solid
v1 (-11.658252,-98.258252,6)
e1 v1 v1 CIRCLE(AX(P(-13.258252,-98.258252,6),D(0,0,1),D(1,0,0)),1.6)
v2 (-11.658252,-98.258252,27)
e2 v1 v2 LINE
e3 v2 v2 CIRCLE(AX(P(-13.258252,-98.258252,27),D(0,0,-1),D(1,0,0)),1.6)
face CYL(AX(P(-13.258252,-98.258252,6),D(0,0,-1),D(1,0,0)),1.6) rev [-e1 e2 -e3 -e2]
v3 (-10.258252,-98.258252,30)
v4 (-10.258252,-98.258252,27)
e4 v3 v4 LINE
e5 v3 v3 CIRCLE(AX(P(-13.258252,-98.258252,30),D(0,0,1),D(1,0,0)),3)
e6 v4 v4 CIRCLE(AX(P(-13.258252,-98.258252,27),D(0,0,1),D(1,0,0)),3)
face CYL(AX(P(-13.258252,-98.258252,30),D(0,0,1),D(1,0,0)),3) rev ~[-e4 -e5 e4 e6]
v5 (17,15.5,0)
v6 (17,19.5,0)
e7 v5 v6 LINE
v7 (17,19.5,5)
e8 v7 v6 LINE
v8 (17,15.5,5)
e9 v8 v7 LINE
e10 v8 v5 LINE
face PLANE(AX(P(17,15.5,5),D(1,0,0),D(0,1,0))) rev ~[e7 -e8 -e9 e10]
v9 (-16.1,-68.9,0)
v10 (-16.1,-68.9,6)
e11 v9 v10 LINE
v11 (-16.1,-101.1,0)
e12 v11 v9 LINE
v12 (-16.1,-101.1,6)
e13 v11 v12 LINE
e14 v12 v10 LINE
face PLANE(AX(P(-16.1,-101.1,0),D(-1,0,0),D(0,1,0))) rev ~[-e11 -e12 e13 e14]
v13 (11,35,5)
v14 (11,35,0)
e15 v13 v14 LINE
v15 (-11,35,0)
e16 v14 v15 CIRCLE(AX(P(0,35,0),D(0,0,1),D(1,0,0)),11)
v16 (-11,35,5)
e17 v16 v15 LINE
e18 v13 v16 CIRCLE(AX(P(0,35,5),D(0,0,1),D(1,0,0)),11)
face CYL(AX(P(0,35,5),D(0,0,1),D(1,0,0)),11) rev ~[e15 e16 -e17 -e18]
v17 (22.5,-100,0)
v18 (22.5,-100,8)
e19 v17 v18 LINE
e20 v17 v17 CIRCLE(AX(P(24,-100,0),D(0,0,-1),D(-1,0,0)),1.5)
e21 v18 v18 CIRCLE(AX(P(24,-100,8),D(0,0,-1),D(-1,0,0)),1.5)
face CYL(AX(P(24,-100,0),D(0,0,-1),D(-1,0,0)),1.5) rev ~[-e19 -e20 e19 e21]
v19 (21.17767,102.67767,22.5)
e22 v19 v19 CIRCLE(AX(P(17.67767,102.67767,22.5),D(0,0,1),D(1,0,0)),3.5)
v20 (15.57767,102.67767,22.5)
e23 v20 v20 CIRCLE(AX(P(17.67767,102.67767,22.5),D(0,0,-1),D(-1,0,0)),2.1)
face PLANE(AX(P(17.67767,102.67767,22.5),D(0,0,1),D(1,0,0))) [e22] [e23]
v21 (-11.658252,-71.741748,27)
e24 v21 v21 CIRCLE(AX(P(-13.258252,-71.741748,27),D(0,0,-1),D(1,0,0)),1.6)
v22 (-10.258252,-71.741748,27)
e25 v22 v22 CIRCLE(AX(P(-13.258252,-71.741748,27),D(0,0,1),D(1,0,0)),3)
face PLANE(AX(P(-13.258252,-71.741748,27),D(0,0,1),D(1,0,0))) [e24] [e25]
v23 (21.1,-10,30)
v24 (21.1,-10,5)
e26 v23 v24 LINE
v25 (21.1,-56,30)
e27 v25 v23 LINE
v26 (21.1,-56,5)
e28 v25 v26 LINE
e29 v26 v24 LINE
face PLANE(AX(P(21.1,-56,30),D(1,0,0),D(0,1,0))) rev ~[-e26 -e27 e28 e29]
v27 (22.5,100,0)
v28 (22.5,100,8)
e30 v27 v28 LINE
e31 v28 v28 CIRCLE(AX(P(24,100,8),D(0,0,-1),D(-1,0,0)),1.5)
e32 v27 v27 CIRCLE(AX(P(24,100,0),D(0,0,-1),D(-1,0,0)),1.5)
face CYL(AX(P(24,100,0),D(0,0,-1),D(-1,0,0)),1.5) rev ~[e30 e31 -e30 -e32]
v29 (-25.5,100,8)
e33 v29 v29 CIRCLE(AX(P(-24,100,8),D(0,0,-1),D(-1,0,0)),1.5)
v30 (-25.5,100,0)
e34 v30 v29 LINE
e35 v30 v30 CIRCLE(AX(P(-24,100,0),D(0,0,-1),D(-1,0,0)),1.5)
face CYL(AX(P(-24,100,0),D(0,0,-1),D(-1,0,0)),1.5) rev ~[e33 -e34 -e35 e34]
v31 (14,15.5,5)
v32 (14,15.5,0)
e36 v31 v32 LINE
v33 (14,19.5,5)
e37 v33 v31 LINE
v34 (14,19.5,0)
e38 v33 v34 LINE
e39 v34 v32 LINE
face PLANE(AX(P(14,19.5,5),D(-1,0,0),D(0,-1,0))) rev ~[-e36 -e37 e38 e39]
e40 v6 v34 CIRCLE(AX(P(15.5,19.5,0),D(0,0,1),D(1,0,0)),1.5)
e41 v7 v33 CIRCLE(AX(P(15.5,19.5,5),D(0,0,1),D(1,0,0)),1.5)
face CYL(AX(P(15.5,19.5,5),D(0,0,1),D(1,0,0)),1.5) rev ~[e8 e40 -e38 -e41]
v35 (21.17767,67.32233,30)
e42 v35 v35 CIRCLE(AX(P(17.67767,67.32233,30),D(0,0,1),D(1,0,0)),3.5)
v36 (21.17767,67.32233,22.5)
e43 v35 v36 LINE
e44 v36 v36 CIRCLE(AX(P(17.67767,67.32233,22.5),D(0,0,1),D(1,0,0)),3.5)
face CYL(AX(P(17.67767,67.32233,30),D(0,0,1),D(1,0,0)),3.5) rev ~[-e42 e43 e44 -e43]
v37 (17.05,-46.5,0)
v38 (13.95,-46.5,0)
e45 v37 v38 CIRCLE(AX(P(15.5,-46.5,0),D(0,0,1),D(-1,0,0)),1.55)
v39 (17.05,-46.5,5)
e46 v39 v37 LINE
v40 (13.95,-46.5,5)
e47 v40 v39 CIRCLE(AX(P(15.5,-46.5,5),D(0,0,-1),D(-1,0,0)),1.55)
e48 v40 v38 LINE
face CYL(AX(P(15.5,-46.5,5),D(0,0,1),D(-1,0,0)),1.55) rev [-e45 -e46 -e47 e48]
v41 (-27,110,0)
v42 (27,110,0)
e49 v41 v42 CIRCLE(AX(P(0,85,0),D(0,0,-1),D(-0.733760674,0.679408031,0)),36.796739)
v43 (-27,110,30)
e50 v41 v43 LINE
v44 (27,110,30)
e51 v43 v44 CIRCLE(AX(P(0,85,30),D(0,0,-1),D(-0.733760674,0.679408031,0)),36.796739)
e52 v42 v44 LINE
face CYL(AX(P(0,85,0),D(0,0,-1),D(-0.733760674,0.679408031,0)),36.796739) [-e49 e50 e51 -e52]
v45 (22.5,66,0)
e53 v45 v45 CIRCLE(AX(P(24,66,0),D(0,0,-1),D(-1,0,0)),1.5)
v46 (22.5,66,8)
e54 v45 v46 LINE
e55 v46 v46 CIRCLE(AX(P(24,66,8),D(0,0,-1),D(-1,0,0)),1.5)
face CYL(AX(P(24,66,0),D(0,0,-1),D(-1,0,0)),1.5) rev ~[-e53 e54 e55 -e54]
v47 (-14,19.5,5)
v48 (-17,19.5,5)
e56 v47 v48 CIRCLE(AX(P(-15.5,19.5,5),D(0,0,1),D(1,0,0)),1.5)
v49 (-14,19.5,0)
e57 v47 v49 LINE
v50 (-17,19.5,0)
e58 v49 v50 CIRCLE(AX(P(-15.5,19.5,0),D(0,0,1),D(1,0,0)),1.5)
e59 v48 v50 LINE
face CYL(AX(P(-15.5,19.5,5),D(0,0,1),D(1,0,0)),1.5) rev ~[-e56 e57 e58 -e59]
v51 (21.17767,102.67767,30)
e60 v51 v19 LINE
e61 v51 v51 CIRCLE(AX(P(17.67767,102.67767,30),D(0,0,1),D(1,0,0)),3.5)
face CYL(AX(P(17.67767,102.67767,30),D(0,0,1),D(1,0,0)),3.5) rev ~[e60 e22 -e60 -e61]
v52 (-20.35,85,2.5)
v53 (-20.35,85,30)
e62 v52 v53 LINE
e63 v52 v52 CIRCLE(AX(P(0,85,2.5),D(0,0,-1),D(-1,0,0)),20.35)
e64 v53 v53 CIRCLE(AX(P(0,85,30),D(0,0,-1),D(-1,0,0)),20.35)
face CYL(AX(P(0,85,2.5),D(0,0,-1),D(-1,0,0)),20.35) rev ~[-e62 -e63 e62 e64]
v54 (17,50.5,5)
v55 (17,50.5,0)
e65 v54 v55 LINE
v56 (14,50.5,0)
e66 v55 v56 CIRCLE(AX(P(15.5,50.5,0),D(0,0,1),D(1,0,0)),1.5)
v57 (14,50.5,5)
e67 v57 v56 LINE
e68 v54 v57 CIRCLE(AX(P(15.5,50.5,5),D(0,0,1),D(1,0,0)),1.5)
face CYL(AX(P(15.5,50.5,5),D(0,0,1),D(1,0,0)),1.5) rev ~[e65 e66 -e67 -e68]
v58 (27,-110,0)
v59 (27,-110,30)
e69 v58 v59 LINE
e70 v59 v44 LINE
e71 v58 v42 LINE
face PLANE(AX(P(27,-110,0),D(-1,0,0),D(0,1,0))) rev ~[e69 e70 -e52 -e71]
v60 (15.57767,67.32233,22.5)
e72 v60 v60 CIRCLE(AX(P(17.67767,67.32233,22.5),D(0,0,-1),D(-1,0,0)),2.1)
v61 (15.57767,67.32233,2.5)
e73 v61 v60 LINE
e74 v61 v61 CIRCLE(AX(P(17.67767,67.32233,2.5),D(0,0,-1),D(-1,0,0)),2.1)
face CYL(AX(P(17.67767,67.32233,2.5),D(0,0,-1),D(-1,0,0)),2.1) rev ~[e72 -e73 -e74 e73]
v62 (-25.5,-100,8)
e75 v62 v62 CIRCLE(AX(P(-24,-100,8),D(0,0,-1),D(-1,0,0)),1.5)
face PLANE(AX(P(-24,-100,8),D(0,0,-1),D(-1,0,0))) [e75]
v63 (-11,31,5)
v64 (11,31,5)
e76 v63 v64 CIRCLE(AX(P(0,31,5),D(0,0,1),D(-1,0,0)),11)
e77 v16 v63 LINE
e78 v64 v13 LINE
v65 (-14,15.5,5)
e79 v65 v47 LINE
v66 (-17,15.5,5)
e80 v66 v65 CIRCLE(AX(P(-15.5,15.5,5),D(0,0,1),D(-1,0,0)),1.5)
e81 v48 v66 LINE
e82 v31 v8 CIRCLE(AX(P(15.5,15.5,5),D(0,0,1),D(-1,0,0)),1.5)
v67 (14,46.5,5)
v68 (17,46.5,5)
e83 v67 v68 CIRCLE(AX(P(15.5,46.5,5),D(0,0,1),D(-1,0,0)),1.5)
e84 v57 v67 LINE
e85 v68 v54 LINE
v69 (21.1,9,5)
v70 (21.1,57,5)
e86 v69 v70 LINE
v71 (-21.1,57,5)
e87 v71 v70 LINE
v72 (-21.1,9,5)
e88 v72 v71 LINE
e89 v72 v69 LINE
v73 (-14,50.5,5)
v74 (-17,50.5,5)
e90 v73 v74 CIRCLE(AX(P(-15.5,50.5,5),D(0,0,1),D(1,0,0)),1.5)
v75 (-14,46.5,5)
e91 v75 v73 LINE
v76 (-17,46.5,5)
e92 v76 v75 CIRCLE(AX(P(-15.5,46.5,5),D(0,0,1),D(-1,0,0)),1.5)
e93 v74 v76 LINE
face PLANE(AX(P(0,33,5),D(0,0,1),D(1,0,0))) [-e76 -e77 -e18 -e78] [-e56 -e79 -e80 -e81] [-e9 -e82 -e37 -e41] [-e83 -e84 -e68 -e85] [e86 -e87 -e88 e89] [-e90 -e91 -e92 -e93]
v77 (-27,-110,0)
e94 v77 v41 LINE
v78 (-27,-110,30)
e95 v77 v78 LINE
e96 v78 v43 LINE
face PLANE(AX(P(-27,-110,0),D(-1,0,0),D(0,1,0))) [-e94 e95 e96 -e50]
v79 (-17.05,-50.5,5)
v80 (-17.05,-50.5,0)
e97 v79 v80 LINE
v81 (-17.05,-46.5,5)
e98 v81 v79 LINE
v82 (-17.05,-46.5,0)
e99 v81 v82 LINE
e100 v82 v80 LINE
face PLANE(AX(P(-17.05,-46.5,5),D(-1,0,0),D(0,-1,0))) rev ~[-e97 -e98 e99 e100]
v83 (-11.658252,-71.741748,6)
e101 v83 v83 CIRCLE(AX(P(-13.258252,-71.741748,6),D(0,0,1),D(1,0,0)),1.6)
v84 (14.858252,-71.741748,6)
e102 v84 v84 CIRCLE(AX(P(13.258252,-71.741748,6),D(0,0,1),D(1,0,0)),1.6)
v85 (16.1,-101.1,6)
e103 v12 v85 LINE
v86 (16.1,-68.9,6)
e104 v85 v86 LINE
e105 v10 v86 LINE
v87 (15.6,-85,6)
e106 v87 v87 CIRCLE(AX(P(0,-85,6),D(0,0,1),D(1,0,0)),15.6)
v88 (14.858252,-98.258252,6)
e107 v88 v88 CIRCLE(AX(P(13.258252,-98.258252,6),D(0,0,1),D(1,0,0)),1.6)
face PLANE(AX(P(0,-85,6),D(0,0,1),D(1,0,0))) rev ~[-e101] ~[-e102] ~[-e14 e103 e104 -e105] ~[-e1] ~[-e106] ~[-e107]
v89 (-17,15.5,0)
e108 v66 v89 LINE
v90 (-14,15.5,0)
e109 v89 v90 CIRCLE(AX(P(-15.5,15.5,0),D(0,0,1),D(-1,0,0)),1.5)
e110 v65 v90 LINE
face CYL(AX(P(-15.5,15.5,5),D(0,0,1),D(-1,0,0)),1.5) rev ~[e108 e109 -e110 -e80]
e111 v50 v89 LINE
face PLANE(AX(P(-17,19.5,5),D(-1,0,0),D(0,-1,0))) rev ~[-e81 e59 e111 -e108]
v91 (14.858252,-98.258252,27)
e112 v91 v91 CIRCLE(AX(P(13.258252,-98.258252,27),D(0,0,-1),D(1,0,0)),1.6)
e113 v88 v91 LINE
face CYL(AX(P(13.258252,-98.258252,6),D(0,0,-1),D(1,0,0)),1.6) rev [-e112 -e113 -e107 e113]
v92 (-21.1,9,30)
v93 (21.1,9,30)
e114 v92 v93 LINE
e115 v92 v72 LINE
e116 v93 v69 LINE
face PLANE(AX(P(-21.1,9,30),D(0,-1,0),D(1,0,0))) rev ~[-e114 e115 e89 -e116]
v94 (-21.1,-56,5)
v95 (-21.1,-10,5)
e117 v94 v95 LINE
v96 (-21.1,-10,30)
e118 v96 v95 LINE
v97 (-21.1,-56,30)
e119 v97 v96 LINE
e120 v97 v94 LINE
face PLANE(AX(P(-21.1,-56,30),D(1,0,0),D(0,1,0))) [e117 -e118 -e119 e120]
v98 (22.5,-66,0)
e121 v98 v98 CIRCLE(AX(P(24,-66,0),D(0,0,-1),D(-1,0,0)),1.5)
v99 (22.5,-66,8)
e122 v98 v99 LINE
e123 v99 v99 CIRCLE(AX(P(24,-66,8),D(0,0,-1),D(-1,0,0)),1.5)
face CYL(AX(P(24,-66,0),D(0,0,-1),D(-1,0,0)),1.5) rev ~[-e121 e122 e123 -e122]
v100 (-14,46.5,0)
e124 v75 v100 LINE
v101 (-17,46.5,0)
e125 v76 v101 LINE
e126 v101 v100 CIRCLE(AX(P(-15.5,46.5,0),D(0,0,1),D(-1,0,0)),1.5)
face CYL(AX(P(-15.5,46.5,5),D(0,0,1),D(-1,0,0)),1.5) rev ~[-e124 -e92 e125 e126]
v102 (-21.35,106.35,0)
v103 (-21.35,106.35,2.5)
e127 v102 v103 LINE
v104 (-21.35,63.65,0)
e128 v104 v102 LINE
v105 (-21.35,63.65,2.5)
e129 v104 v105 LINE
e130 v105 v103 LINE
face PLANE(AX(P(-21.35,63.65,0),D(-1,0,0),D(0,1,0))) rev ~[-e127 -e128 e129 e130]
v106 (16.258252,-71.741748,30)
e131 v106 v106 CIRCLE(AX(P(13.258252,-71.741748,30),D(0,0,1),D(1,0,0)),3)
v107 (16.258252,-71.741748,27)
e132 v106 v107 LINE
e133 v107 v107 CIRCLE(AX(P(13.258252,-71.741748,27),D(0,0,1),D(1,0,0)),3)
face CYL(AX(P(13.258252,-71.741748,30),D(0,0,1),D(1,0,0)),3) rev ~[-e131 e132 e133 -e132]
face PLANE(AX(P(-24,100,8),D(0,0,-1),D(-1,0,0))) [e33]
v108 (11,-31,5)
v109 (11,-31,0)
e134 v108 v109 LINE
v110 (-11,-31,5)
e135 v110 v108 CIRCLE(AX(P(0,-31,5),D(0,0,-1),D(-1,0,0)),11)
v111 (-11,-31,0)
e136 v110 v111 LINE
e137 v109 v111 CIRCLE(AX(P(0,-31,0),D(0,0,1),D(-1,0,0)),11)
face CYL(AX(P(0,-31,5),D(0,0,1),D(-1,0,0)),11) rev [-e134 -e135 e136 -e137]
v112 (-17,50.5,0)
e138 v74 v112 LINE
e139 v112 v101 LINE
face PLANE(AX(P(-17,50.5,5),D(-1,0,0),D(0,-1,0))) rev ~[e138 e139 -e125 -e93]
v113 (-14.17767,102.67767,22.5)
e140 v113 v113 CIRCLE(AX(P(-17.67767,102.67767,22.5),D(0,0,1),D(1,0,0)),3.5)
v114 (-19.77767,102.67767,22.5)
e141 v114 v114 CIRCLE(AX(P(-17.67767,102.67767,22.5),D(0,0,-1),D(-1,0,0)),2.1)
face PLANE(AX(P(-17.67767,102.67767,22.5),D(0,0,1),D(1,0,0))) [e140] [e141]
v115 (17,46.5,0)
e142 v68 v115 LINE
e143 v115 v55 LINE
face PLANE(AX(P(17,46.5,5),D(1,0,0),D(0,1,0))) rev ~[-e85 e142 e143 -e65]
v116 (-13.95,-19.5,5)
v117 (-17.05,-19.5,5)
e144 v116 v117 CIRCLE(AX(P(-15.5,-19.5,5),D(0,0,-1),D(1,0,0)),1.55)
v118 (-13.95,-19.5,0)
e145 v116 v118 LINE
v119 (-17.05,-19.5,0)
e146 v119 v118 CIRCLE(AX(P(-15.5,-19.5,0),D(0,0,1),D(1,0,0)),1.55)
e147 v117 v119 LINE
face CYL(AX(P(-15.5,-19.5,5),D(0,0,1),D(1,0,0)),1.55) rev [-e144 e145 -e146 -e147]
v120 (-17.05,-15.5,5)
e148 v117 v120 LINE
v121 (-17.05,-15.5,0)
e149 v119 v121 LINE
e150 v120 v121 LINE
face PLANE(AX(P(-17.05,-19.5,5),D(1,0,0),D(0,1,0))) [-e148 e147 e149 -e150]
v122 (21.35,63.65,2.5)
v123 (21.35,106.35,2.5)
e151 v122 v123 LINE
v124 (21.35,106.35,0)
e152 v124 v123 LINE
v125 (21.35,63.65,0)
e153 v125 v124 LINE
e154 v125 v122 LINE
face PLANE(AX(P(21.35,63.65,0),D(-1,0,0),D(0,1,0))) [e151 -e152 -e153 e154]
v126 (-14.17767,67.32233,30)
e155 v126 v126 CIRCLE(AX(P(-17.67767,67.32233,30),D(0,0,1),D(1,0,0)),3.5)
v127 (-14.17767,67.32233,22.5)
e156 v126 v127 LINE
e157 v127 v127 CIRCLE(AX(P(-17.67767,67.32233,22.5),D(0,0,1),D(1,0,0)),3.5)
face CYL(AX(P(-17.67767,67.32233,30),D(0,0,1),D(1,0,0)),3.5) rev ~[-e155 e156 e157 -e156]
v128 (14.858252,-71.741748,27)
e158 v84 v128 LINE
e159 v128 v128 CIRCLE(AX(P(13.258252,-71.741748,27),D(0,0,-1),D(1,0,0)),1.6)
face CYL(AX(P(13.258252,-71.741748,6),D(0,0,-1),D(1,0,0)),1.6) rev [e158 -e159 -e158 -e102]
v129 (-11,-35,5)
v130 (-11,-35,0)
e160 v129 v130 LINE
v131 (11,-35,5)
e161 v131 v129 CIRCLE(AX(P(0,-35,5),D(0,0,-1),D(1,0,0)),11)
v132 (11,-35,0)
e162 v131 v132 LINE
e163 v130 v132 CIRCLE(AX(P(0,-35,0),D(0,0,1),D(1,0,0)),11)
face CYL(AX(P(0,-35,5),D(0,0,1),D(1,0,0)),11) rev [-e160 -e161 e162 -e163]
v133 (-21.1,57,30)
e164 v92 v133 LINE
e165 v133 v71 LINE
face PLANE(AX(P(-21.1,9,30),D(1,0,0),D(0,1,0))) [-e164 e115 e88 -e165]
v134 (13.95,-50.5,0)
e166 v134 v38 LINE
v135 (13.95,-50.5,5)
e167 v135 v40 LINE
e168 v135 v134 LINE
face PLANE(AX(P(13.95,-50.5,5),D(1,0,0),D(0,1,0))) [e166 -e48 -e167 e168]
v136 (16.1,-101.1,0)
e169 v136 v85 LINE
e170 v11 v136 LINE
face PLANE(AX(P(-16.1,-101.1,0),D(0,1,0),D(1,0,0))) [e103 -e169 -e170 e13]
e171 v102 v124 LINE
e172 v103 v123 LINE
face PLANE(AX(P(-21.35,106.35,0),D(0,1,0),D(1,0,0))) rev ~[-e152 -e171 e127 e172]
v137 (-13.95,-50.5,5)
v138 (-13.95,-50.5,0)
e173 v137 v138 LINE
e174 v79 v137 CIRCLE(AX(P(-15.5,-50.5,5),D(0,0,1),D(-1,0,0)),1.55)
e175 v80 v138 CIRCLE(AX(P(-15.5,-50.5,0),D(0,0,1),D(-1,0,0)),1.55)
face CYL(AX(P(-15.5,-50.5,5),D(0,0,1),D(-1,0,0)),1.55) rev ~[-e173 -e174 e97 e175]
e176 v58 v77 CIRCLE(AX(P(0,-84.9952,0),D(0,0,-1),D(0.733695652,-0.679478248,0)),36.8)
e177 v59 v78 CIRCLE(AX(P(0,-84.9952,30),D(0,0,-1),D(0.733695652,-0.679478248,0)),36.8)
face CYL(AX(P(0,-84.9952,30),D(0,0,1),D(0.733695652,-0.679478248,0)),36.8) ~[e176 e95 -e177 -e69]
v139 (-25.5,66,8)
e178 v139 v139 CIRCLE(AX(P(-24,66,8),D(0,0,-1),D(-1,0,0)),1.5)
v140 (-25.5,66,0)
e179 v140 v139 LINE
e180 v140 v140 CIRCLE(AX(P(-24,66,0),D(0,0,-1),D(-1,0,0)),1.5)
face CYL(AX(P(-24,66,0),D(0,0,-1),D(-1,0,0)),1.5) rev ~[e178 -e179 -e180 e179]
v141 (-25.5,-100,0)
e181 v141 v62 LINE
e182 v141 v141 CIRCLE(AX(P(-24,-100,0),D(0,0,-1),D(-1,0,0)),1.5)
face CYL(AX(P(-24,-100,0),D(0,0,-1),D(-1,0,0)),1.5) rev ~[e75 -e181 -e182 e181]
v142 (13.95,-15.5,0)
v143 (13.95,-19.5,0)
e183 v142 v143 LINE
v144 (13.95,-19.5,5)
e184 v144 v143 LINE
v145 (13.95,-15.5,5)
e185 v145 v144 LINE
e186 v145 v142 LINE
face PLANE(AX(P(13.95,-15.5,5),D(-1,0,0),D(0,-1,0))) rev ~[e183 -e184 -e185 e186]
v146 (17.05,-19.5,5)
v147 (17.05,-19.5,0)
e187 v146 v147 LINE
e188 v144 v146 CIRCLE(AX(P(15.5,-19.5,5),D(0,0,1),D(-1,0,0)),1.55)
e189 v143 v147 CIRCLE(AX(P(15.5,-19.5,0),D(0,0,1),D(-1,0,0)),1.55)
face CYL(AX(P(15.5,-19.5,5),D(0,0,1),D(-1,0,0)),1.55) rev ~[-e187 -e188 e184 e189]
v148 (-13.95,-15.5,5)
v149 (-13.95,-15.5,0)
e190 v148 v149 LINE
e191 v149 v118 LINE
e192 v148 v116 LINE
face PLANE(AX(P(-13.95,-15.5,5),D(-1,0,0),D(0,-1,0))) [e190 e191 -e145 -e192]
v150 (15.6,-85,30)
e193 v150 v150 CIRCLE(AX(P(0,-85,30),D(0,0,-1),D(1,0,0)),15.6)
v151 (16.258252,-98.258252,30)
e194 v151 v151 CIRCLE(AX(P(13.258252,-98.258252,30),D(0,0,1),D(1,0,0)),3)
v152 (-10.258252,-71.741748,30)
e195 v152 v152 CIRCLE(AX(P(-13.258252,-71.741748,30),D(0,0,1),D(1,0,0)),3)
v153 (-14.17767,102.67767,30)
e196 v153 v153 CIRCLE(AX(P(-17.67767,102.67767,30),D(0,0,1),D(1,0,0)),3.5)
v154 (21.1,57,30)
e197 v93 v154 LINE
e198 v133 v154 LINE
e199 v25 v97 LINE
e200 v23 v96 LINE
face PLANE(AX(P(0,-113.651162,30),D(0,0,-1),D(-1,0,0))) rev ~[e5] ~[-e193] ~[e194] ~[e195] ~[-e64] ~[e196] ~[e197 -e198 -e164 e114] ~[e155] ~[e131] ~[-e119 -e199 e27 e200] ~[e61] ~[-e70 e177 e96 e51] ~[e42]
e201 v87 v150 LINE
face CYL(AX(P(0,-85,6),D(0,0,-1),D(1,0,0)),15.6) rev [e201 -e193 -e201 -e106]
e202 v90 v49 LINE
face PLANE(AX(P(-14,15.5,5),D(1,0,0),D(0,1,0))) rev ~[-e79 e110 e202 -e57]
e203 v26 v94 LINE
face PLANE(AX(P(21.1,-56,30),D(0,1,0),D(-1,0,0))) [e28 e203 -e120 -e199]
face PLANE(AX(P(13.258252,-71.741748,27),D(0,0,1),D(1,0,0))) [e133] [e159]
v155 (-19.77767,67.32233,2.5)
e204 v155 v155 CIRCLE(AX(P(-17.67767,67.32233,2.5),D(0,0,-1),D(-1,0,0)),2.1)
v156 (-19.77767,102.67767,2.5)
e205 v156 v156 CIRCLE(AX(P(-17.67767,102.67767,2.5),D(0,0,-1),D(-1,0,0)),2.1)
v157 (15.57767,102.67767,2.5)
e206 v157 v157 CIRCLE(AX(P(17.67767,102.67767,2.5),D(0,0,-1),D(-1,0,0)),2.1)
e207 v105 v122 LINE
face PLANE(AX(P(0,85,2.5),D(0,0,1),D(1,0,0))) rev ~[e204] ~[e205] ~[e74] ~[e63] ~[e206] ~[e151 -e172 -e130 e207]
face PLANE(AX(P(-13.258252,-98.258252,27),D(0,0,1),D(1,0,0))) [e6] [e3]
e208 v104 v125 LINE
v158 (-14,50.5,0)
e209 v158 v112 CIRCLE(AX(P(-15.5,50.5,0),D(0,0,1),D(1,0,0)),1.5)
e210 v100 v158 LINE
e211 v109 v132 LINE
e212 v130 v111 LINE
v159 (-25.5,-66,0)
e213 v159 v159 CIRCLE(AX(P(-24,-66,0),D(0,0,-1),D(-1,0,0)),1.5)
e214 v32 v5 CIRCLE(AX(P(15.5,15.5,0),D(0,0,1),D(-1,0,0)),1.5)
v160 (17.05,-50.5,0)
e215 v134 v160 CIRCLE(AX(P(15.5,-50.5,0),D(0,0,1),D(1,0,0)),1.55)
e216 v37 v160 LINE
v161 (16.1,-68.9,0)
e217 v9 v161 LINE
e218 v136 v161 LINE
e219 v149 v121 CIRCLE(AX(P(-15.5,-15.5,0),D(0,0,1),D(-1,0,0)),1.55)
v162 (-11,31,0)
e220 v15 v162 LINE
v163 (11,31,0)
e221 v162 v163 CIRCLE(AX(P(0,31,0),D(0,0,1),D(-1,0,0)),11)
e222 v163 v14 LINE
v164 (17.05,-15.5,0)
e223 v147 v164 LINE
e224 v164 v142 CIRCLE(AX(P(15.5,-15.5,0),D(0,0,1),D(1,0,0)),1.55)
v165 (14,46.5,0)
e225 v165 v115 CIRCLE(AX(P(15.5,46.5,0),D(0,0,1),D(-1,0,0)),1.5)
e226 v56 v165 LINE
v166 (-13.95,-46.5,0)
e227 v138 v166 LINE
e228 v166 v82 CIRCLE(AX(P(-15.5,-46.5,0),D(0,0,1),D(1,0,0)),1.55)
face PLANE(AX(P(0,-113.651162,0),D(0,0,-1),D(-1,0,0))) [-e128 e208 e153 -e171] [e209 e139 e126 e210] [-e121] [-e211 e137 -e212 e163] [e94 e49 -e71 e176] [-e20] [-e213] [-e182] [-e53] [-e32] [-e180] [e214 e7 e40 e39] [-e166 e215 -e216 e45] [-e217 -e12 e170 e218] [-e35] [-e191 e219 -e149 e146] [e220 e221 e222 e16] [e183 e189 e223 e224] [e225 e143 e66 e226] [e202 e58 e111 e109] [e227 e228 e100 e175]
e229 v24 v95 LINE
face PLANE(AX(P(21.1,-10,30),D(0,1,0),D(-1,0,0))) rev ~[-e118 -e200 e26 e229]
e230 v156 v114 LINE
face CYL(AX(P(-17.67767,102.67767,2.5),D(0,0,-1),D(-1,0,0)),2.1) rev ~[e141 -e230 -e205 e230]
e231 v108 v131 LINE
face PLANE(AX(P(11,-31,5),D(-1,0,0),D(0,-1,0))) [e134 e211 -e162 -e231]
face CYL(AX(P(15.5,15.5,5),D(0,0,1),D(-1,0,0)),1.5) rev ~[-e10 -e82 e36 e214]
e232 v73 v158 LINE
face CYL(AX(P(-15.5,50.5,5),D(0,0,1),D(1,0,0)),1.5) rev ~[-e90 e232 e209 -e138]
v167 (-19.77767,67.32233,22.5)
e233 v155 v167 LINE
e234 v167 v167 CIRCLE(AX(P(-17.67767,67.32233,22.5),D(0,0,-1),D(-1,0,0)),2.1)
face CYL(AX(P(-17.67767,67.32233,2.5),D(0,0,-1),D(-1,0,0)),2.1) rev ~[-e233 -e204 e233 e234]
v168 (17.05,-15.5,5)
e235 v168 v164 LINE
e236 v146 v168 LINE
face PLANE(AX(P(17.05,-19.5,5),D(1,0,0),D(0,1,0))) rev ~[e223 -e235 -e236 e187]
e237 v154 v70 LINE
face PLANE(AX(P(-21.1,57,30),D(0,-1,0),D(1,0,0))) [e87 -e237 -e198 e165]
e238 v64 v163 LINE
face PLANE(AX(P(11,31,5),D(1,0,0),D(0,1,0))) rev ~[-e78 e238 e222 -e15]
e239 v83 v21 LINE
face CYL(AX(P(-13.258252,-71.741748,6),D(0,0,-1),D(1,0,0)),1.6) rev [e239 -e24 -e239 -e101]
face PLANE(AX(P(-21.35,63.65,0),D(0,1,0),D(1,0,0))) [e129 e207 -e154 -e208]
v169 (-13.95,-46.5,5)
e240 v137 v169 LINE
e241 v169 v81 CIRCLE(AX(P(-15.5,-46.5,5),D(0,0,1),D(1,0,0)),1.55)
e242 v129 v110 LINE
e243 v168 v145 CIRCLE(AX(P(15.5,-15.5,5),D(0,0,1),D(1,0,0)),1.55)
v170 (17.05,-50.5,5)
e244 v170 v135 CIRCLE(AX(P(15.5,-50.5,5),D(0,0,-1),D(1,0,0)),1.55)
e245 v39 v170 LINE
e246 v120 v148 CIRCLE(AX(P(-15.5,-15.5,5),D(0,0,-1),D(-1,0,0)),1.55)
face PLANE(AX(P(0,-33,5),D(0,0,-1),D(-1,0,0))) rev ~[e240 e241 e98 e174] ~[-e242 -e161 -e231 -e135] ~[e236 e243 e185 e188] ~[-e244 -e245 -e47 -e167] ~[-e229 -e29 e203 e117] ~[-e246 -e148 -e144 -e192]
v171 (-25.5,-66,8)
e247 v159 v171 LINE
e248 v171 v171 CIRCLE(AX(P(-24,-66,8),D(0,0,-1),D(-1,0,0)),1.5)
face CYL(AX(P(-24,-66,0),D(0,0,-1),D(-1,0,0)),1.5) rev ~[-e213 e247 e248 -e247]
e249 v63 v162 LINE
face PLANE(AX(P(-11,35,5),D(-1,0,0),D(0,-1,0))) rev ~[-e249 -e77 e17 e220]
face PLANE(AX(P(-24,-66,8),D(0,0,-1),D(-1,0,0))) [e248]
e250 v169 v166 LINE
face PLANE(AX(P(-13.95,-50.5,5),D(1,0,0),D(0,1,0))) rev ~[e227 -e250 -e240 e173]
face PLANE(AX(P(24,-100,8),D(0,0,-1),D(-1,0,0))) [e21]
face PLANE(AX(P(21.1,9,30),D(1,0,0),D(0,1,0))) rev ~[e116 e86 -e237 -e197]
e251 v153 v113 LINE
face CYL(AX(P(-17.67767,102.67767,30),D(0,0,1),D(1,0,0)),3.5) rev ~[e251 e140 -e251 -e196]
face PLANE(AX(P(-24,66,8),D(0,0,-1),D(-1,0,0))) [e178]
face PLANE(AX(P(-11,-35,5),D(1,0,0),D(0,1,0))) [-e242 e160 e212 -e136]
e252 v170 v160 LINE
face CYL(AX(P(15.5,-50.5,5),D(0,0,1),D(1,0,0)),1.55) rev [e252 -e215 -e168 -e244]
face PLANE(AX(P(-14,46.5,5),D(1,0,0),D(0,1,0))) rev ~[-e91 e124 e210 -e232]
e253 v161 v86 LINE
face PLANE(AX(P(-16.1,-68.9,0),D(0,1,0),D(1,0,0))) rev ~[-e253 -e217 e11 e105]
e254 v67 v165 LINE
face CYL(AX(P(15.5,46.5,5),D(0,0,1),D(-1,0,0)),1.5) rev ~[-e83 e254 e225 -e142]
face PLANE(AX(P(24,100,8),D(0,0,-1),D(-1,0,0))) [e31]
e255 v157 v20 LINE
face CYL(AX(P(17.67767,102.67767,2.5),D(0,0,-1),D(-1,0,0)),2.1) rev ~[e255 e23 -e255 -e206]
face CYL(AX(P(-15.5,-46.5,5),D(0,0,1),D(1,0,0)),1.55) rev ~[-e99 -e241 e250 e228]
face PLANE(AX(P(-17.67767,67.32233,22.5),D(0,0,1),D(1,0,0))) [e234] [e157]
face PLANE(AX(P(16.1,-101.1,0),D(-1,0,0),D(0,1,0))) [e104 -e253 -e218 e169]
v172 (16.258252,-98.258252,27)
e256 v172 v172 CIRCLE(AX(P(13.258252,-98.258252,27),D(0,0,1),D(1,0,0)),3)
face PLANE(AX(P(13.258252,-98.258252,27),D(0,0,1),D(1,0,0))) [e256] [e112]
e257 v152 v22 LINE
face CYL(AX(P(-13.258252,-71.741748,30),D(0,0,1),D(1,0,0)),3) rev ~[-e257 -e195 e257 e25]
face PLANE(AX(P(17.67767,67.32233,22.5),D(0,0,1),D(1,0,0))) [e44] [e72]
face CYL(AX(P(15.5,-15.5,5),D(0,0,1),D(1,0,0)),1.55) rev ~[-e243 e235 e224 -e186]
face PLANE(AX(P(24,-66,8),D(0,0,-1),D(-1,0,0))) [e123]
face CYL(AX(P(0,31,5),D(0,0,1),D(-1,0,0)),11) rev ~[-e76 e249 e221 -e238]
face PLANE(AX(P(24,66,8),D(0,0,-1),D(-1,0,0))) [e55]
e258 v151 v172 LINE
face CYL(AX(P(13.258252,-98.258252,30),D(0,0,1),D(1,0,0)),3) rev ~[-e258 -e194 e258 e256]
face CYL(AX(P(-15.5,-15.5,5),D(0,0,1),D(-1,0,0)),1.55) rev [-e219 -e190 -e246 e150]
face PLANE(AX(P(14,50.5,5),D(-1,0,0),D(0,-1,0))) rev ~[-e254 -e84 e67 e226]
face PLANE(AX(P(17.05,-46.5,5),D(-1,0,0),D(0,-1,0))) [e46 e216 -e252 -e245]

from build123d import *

# Parameters (mm, degrees)
SKETCH_1_W                = 54
SKETCH_1_H                = 220
EXTRUDE_1_DEPTH           = 30
SKETCH_2_W                = 42.2
SKETCH_2_H                = 48
CUT_EXTRUDE_1_DEPTH       = 25
SKETCH_3_W                = 42.2
SKETCH_3_H                = 46
CUT_EXTRUDE_2_DEPTH       = 25
CUT_EXTRUDE_3_DEPTH       = 6
CUT_EXTRUDE_13_DEPTH      = 6
SKETCH_18_W               = 32.2
SKETCH_18_H               = 32.2
CUT_EXTRUDE_9_DEPTH       = 6
SKETCH_9_R                = 15.6
SKETCH_9_R_2              = 1.6
CUT_EXTRUDE_4_DEPTH       = 25
SKETCH_16_W               = 42.7
SKETCH_16_H               = 42.7
CUT_EXTRUDE_7_DEPTH       = 2.5
SKETCH_13_R               = 20.35
SKETCH_13_R_2             = 2.1
CUT_EXTRUDE_6_DEPTH       = 28.5
EXTRUDE_3_DEPTH           = 30
SKETCH_17_R               = 1.5
CUT_EXTRUDE_8_DEPTH       = 8
SKETCH_21_R               = 3.5
CUT_EXTRUDE_11_DEPTH      = 1
CUT_EXTRUDE_11_DEPTH_BACK = 7.5
EXTRUDE_4_DEPTH           = 30
SKETCH_29_R               = 3
CUT_EXTRUDE_15_DEPTH      = 3
SKETCH_30_R               = 1.5
CUT_EXTRUDE_16_DEPTH      = 8


with BuildPart() as part:
    # 草图1 → 凸台-拉伸1 (new body)
    with BuildSketch(Plane.XY):
        Rectangle(SKETCH_1_W, SKETCH_1_H)
    extrude(amount=EXTRUDE_1_DEPTH)

    # 草图2 → 切除-拉伸1 (cut)
    with BuildSketch(Plane.XY.offset(30)):
        with Locations((0, 33)):
            Rectangle(SKETCH_2_W, SKETCH_2_H)
    extrude(amount=-CUT_EXTRUDE_1_DEPTH, mode=Mode.SUBTRACT)

    # 草图3 → 切除-拉伸2 (cut)
    with BuildSketch(Plane(origin=(0, 0, 30), x_dir=(-1, 0, 0), z_dir=(0, 0, -1))):
        with Locations((0, -33)):
            Rectangle(SKETCH_3_W, SKETCH_3_H)
    extrude(amount=CUT_EXTRUDE_2_DEPTH, mode=Mode.SUBTRACT)

    # 草图4 → 切除-拉伸3 (cut, through all)
    with BuildSketch(Plane.XY.offset(5)):
        with BuildLine():
            Line((11, 31), (11, 35))
            ThreePointArc((11, 35), (0, 46), (-11, 35))
            Line((-11, 35), (-11, 31))
            ThreePointArc((-11, 31), (0, 20), (11, 31))
        make_face()
        with BuildLine():
            Line((-14, 46.5), (-14, 50.5))
            ThreePointArc((-14, 50.5), (-15.5, 52), (-17, 50.5))
            Line((-17, 50.5), (-17, 46.5))
            ThreePointArc((-17, 46.5), (-15.5, 45), (-14, 46.5))
        make_face()
        with BuildLine():
            ThreePointArc((17, 50.5), (15.5, 52), (14, 50.5))
            Line((14, 50.5), (14, 46.5))
            ThreePointArc((14, 46.5), (15.5, 45), (17, 46.5))
            Line((17, 46.5), (17, 50.5))
        make_face()
        with BuildLine():
            Line((14, 19.5), (14, 15.5))
            ThreePointArc((14, 15.5), (15.5, 14), (17, 15.5))
            Line((17, 15.5), (17, 19.5))
            ThreePointArc((17, 19.5), (15.5, 21), (14, 19.5))
        make_face()
        with BuildLine():
            ThreePointArc((-17, 15.5), (-15.5, 14), (-14, 15.5))
            Line((-14, 15.5), (-14, 19.5))
            ThreePointArc((-14, 19.5), (-15.5, 21), (-17, 19.5))
            Line((-17, 19.5), (-17, 15.5))
        make_face()
    extrude(amount=-CUT_EXTRUDE_3_DEPTH, mode=Mode.SUBTRACT)

    # 草图26 → 切除-拉伸13 (cut, through all)
    with BuildSketch(Plane.XY.offset(5)):
        with BuildLine():
            Line((11, -31), (11, -35))
            ThreePointArc((11, -35), (0, -46), (-11, -35))
            Line((-11, -35), (-11, -31))
            ThreePointArc((-11, -31), (0, -20), (11, -31))
        make_face()
        with BuildLine():
            Line((-13.95, -15.5), (-13.95, -19.5))
            ThreePointArc((-13.95, -19.5), (-15.5, -21.05), (-17.05, -19.5))
            Line((-17.05, -19.5), (-17.05, -15.5))
            ThreePointArc((-17.05, -15.5), (-15.5, -13.95), (-13.95, -15.5))
        make_face()
        with BuildLine():
            Line((-13.95, -50.5), (-13.95, -46.5))
            ThreePointArc((-13.95, -46.5), (-15.5, -44.95), (-17.05, -46.5))
            Line((-17.05, -46.5), (-17.05, -50.5))
            ThreePointArc((-17.05, -50.5), (-15.5, -52.05), (-13.95, -50.5))
        make_face()
        with BuildLine():
            Line((13.95, -50.5), (13.95, -46.5))
            ThreePointArc((13.95, -46.5), (15.5, -44.95), (17.05, -46.5))
            Line((17.05, -46.5), (17.05, -50.5))
            ThreePointArc((17.05, -50.5), (15.5, -52.05), (13.95, -50.5))
        make_face()
        with BuildLine():
            Line((13.95, -15.5), (13.95, -19.5))
            ThreePointArc((13.95, -19.5), (15.5, -21.05), (17.05, -19.5))
            Line((17.05, -19.5), (17.05, -15.5))
            ThreePointArc((17.05, -15.5), (15.5, -13.95), (13.95, -15.5))
        make_face()
    extrude(amount=-CUT_EXTRUDE_13_DEPTH, mode=Mode.SUBTRACT)

    # 草图18 → 切除-拉伸9 (cut)
    with BuildSketch(Plane.XY):
        with Locations((0, -85)):
            Rectangle(SKETCH_18_W, SKETCH_18_H)
    extrude(amount=CUT_EXTRUDE_9_DEPTH, mode=Mode.SUBTRACT)

    # 草图9 → 切除-拉伸4 (cut, through all)
    with BuildSketch(Plane.XY.offset(6)):
        with Locations((0, -85)):
            Circle(SKETCH_9_R)
        with Locations((-13.258252147, -71.741747853)):
            Circle(SKETCH_9_R_2)
        with Locations((13.258252147, -71.741747853)):
            Circle(SKETCH_9_R_2)
        with Locations((13.258252147, -98.258252147)):
            Circle(SKETCH_9_R_2)
        with Locations((-13.258252147, -98.258252147)):
            Circle(SKETCH_9_R_2)
    extrude(amount=CUT_EXTRUDE_4_DEPTH, mode=Mode.SUBTRACT)

    # 草图16 → 切除-拉伸7 (cut)
    with BuildSketch(Plane.XY):
        with Locations((0, 85)):
            Rectangle(SKETCH_16_W, SKETCH_16_H)
    extrude(amount=CUT_EXTRUDE_7_DEPTH, mode=Mode.SUBTRACT)

    # 草图13 → 切除-拉伸6 (cut, through all)
    with BuildSketch(Plane(origin=(0, 0, 2.5), x_dir=(-1, 0, 0), z_dir=(0, 0, -1))):
        with Locations((0, 85)):
            Circle(SKETCH_13_R)
        with Locations((-17.67766953, 102.67766953)):
            Circle(SKETCH_13_R_2)
        with Locations((17.67766953, 102.67766953)):
            Circle(SKETCH_13_R_2)
        with Locations((17.67766953, 67.32233047)):
            Circle(SKETCH_13_R_2)
        with Locations((-17.67766953, 67.32233047)):
            Circle(SKETCH_13_R_2)
    extrude(amount=-CUT_EXTRUDE_6_DEPTH, mode=Mode.SUBTRACT)

    # 草图15 → 凸台-拉伸3 (add)
    with BuildSketch(Plane(origin=(0, 0, 0), x_dir=(-1, 0, 0), z_dir=(0, 0, -1))):
        with BuildLine():
            Line((-27, 110), (27, 110))
            ThreePointArc((27, 110), (0, 121.796738986), (-27, 110))
        make_face()
    extrude(amount=-EXTRUDE_3_DEPTH)

    # 草图17 → 切除-拉伸8 (cut)
    with BuildSketch(Plane(origin=(0, 0, 0), x_dir=(-1, 0, 0), z_dir=(0, 0, -1))):
        with Locations((-24, 100)):
            Circle(SKETCH_17_R)
        with Locations((24, 100)):
            Circle(SKETCH_17_R)
        with Locations((24, 66)):
            Circle(SKETCH_17_R)
        with Locations((-24, 66)):
            Circle(SKETCH_17_R)
    extrude(amount=-CUT_EXTRUDE_8_DEPTH, mode=Mode.SUBTRACT)

    # 草图21 → 切除-拉伸11 (cut, two sides)
    with BuildSketch(Plane.XY.offset(30)) as cut_extrude_11_sk:
        with Locations((-17.67766953, 102.67766953)):
            Circle(SKETCH_21_R)
        with Locations((17.67766953, 102.67766953)):
            Circle(SKETCH_21_R)
        with Locations((17.67766953, 67.32233047)):
            Circle(SKETCH_21_R)
        with Locations((-17.67766953, 67.32233047)):
            Circle(SKETCH_21_R)
    extrude(amount=CUT_EXTRUDE_11_DEPTH, mode=Mode.SUBTRACT)
    extrude(cut_extrude_11_sk.sketch, amount=-CUT_EXTRUDE_11_DEPTH_BACK, mode=Mode.SUBTRACT)

    # 草图28 → 凸台-拉伸4 (add)
    with BuildSketch(Plane.XY.offset(30)):
        with BuildLine():
            Line((-27, -110), (27, -110))
            ThreePointArc((27, -110), (0, -121.795200461), (-27, -110))
        make_face()
    extrude(amount=-EXTRUDE_4_DEPTH)

    # 草图29 → 切除-拉伸15 (cut)
    with BuildSketch(Plane.XY.offset(30)):
        with Locations((-13.258252147, -71.741747853)):
            Circle(SKETCH_29_R)
        with Locations((13.258252147, -71.741747853)):
            Circle(SKETCH_29_R)
        with Locations((13.258252147, -98.258252147)):
            Circle(SKETCH_29_R)
        with Locations((-13.258252147, -98.258252147)):
            Circle(SKETCH_29_R)
    extrude(amount=-CUT_EXTRUDE_15_DEPTH, mode=Mode.SUBTRACT)

    # 草图30 → 切除-拉伸16 (cut)
    with BuildSketch(Plane(origin=(0, 0, 0), x_dir=(-1, 0, 0), z_dir=(0, 0, -1))):
        with Locations((-24, -100)):
            Circle(SKETCH_30_R)
        with Locations((-24, -66)):
            Circle(SKETCH_30_R)
        with Locations((24, -66)):
            Circle(SKETCH_30_R)
        with Locations((24, -100)):
            Circle(SKETCH_30_R)
    extrude(amount=-CUT_EXTRUDE_16_DEPTH, mode=Mode.SUBTRACT)


solid = part.part
